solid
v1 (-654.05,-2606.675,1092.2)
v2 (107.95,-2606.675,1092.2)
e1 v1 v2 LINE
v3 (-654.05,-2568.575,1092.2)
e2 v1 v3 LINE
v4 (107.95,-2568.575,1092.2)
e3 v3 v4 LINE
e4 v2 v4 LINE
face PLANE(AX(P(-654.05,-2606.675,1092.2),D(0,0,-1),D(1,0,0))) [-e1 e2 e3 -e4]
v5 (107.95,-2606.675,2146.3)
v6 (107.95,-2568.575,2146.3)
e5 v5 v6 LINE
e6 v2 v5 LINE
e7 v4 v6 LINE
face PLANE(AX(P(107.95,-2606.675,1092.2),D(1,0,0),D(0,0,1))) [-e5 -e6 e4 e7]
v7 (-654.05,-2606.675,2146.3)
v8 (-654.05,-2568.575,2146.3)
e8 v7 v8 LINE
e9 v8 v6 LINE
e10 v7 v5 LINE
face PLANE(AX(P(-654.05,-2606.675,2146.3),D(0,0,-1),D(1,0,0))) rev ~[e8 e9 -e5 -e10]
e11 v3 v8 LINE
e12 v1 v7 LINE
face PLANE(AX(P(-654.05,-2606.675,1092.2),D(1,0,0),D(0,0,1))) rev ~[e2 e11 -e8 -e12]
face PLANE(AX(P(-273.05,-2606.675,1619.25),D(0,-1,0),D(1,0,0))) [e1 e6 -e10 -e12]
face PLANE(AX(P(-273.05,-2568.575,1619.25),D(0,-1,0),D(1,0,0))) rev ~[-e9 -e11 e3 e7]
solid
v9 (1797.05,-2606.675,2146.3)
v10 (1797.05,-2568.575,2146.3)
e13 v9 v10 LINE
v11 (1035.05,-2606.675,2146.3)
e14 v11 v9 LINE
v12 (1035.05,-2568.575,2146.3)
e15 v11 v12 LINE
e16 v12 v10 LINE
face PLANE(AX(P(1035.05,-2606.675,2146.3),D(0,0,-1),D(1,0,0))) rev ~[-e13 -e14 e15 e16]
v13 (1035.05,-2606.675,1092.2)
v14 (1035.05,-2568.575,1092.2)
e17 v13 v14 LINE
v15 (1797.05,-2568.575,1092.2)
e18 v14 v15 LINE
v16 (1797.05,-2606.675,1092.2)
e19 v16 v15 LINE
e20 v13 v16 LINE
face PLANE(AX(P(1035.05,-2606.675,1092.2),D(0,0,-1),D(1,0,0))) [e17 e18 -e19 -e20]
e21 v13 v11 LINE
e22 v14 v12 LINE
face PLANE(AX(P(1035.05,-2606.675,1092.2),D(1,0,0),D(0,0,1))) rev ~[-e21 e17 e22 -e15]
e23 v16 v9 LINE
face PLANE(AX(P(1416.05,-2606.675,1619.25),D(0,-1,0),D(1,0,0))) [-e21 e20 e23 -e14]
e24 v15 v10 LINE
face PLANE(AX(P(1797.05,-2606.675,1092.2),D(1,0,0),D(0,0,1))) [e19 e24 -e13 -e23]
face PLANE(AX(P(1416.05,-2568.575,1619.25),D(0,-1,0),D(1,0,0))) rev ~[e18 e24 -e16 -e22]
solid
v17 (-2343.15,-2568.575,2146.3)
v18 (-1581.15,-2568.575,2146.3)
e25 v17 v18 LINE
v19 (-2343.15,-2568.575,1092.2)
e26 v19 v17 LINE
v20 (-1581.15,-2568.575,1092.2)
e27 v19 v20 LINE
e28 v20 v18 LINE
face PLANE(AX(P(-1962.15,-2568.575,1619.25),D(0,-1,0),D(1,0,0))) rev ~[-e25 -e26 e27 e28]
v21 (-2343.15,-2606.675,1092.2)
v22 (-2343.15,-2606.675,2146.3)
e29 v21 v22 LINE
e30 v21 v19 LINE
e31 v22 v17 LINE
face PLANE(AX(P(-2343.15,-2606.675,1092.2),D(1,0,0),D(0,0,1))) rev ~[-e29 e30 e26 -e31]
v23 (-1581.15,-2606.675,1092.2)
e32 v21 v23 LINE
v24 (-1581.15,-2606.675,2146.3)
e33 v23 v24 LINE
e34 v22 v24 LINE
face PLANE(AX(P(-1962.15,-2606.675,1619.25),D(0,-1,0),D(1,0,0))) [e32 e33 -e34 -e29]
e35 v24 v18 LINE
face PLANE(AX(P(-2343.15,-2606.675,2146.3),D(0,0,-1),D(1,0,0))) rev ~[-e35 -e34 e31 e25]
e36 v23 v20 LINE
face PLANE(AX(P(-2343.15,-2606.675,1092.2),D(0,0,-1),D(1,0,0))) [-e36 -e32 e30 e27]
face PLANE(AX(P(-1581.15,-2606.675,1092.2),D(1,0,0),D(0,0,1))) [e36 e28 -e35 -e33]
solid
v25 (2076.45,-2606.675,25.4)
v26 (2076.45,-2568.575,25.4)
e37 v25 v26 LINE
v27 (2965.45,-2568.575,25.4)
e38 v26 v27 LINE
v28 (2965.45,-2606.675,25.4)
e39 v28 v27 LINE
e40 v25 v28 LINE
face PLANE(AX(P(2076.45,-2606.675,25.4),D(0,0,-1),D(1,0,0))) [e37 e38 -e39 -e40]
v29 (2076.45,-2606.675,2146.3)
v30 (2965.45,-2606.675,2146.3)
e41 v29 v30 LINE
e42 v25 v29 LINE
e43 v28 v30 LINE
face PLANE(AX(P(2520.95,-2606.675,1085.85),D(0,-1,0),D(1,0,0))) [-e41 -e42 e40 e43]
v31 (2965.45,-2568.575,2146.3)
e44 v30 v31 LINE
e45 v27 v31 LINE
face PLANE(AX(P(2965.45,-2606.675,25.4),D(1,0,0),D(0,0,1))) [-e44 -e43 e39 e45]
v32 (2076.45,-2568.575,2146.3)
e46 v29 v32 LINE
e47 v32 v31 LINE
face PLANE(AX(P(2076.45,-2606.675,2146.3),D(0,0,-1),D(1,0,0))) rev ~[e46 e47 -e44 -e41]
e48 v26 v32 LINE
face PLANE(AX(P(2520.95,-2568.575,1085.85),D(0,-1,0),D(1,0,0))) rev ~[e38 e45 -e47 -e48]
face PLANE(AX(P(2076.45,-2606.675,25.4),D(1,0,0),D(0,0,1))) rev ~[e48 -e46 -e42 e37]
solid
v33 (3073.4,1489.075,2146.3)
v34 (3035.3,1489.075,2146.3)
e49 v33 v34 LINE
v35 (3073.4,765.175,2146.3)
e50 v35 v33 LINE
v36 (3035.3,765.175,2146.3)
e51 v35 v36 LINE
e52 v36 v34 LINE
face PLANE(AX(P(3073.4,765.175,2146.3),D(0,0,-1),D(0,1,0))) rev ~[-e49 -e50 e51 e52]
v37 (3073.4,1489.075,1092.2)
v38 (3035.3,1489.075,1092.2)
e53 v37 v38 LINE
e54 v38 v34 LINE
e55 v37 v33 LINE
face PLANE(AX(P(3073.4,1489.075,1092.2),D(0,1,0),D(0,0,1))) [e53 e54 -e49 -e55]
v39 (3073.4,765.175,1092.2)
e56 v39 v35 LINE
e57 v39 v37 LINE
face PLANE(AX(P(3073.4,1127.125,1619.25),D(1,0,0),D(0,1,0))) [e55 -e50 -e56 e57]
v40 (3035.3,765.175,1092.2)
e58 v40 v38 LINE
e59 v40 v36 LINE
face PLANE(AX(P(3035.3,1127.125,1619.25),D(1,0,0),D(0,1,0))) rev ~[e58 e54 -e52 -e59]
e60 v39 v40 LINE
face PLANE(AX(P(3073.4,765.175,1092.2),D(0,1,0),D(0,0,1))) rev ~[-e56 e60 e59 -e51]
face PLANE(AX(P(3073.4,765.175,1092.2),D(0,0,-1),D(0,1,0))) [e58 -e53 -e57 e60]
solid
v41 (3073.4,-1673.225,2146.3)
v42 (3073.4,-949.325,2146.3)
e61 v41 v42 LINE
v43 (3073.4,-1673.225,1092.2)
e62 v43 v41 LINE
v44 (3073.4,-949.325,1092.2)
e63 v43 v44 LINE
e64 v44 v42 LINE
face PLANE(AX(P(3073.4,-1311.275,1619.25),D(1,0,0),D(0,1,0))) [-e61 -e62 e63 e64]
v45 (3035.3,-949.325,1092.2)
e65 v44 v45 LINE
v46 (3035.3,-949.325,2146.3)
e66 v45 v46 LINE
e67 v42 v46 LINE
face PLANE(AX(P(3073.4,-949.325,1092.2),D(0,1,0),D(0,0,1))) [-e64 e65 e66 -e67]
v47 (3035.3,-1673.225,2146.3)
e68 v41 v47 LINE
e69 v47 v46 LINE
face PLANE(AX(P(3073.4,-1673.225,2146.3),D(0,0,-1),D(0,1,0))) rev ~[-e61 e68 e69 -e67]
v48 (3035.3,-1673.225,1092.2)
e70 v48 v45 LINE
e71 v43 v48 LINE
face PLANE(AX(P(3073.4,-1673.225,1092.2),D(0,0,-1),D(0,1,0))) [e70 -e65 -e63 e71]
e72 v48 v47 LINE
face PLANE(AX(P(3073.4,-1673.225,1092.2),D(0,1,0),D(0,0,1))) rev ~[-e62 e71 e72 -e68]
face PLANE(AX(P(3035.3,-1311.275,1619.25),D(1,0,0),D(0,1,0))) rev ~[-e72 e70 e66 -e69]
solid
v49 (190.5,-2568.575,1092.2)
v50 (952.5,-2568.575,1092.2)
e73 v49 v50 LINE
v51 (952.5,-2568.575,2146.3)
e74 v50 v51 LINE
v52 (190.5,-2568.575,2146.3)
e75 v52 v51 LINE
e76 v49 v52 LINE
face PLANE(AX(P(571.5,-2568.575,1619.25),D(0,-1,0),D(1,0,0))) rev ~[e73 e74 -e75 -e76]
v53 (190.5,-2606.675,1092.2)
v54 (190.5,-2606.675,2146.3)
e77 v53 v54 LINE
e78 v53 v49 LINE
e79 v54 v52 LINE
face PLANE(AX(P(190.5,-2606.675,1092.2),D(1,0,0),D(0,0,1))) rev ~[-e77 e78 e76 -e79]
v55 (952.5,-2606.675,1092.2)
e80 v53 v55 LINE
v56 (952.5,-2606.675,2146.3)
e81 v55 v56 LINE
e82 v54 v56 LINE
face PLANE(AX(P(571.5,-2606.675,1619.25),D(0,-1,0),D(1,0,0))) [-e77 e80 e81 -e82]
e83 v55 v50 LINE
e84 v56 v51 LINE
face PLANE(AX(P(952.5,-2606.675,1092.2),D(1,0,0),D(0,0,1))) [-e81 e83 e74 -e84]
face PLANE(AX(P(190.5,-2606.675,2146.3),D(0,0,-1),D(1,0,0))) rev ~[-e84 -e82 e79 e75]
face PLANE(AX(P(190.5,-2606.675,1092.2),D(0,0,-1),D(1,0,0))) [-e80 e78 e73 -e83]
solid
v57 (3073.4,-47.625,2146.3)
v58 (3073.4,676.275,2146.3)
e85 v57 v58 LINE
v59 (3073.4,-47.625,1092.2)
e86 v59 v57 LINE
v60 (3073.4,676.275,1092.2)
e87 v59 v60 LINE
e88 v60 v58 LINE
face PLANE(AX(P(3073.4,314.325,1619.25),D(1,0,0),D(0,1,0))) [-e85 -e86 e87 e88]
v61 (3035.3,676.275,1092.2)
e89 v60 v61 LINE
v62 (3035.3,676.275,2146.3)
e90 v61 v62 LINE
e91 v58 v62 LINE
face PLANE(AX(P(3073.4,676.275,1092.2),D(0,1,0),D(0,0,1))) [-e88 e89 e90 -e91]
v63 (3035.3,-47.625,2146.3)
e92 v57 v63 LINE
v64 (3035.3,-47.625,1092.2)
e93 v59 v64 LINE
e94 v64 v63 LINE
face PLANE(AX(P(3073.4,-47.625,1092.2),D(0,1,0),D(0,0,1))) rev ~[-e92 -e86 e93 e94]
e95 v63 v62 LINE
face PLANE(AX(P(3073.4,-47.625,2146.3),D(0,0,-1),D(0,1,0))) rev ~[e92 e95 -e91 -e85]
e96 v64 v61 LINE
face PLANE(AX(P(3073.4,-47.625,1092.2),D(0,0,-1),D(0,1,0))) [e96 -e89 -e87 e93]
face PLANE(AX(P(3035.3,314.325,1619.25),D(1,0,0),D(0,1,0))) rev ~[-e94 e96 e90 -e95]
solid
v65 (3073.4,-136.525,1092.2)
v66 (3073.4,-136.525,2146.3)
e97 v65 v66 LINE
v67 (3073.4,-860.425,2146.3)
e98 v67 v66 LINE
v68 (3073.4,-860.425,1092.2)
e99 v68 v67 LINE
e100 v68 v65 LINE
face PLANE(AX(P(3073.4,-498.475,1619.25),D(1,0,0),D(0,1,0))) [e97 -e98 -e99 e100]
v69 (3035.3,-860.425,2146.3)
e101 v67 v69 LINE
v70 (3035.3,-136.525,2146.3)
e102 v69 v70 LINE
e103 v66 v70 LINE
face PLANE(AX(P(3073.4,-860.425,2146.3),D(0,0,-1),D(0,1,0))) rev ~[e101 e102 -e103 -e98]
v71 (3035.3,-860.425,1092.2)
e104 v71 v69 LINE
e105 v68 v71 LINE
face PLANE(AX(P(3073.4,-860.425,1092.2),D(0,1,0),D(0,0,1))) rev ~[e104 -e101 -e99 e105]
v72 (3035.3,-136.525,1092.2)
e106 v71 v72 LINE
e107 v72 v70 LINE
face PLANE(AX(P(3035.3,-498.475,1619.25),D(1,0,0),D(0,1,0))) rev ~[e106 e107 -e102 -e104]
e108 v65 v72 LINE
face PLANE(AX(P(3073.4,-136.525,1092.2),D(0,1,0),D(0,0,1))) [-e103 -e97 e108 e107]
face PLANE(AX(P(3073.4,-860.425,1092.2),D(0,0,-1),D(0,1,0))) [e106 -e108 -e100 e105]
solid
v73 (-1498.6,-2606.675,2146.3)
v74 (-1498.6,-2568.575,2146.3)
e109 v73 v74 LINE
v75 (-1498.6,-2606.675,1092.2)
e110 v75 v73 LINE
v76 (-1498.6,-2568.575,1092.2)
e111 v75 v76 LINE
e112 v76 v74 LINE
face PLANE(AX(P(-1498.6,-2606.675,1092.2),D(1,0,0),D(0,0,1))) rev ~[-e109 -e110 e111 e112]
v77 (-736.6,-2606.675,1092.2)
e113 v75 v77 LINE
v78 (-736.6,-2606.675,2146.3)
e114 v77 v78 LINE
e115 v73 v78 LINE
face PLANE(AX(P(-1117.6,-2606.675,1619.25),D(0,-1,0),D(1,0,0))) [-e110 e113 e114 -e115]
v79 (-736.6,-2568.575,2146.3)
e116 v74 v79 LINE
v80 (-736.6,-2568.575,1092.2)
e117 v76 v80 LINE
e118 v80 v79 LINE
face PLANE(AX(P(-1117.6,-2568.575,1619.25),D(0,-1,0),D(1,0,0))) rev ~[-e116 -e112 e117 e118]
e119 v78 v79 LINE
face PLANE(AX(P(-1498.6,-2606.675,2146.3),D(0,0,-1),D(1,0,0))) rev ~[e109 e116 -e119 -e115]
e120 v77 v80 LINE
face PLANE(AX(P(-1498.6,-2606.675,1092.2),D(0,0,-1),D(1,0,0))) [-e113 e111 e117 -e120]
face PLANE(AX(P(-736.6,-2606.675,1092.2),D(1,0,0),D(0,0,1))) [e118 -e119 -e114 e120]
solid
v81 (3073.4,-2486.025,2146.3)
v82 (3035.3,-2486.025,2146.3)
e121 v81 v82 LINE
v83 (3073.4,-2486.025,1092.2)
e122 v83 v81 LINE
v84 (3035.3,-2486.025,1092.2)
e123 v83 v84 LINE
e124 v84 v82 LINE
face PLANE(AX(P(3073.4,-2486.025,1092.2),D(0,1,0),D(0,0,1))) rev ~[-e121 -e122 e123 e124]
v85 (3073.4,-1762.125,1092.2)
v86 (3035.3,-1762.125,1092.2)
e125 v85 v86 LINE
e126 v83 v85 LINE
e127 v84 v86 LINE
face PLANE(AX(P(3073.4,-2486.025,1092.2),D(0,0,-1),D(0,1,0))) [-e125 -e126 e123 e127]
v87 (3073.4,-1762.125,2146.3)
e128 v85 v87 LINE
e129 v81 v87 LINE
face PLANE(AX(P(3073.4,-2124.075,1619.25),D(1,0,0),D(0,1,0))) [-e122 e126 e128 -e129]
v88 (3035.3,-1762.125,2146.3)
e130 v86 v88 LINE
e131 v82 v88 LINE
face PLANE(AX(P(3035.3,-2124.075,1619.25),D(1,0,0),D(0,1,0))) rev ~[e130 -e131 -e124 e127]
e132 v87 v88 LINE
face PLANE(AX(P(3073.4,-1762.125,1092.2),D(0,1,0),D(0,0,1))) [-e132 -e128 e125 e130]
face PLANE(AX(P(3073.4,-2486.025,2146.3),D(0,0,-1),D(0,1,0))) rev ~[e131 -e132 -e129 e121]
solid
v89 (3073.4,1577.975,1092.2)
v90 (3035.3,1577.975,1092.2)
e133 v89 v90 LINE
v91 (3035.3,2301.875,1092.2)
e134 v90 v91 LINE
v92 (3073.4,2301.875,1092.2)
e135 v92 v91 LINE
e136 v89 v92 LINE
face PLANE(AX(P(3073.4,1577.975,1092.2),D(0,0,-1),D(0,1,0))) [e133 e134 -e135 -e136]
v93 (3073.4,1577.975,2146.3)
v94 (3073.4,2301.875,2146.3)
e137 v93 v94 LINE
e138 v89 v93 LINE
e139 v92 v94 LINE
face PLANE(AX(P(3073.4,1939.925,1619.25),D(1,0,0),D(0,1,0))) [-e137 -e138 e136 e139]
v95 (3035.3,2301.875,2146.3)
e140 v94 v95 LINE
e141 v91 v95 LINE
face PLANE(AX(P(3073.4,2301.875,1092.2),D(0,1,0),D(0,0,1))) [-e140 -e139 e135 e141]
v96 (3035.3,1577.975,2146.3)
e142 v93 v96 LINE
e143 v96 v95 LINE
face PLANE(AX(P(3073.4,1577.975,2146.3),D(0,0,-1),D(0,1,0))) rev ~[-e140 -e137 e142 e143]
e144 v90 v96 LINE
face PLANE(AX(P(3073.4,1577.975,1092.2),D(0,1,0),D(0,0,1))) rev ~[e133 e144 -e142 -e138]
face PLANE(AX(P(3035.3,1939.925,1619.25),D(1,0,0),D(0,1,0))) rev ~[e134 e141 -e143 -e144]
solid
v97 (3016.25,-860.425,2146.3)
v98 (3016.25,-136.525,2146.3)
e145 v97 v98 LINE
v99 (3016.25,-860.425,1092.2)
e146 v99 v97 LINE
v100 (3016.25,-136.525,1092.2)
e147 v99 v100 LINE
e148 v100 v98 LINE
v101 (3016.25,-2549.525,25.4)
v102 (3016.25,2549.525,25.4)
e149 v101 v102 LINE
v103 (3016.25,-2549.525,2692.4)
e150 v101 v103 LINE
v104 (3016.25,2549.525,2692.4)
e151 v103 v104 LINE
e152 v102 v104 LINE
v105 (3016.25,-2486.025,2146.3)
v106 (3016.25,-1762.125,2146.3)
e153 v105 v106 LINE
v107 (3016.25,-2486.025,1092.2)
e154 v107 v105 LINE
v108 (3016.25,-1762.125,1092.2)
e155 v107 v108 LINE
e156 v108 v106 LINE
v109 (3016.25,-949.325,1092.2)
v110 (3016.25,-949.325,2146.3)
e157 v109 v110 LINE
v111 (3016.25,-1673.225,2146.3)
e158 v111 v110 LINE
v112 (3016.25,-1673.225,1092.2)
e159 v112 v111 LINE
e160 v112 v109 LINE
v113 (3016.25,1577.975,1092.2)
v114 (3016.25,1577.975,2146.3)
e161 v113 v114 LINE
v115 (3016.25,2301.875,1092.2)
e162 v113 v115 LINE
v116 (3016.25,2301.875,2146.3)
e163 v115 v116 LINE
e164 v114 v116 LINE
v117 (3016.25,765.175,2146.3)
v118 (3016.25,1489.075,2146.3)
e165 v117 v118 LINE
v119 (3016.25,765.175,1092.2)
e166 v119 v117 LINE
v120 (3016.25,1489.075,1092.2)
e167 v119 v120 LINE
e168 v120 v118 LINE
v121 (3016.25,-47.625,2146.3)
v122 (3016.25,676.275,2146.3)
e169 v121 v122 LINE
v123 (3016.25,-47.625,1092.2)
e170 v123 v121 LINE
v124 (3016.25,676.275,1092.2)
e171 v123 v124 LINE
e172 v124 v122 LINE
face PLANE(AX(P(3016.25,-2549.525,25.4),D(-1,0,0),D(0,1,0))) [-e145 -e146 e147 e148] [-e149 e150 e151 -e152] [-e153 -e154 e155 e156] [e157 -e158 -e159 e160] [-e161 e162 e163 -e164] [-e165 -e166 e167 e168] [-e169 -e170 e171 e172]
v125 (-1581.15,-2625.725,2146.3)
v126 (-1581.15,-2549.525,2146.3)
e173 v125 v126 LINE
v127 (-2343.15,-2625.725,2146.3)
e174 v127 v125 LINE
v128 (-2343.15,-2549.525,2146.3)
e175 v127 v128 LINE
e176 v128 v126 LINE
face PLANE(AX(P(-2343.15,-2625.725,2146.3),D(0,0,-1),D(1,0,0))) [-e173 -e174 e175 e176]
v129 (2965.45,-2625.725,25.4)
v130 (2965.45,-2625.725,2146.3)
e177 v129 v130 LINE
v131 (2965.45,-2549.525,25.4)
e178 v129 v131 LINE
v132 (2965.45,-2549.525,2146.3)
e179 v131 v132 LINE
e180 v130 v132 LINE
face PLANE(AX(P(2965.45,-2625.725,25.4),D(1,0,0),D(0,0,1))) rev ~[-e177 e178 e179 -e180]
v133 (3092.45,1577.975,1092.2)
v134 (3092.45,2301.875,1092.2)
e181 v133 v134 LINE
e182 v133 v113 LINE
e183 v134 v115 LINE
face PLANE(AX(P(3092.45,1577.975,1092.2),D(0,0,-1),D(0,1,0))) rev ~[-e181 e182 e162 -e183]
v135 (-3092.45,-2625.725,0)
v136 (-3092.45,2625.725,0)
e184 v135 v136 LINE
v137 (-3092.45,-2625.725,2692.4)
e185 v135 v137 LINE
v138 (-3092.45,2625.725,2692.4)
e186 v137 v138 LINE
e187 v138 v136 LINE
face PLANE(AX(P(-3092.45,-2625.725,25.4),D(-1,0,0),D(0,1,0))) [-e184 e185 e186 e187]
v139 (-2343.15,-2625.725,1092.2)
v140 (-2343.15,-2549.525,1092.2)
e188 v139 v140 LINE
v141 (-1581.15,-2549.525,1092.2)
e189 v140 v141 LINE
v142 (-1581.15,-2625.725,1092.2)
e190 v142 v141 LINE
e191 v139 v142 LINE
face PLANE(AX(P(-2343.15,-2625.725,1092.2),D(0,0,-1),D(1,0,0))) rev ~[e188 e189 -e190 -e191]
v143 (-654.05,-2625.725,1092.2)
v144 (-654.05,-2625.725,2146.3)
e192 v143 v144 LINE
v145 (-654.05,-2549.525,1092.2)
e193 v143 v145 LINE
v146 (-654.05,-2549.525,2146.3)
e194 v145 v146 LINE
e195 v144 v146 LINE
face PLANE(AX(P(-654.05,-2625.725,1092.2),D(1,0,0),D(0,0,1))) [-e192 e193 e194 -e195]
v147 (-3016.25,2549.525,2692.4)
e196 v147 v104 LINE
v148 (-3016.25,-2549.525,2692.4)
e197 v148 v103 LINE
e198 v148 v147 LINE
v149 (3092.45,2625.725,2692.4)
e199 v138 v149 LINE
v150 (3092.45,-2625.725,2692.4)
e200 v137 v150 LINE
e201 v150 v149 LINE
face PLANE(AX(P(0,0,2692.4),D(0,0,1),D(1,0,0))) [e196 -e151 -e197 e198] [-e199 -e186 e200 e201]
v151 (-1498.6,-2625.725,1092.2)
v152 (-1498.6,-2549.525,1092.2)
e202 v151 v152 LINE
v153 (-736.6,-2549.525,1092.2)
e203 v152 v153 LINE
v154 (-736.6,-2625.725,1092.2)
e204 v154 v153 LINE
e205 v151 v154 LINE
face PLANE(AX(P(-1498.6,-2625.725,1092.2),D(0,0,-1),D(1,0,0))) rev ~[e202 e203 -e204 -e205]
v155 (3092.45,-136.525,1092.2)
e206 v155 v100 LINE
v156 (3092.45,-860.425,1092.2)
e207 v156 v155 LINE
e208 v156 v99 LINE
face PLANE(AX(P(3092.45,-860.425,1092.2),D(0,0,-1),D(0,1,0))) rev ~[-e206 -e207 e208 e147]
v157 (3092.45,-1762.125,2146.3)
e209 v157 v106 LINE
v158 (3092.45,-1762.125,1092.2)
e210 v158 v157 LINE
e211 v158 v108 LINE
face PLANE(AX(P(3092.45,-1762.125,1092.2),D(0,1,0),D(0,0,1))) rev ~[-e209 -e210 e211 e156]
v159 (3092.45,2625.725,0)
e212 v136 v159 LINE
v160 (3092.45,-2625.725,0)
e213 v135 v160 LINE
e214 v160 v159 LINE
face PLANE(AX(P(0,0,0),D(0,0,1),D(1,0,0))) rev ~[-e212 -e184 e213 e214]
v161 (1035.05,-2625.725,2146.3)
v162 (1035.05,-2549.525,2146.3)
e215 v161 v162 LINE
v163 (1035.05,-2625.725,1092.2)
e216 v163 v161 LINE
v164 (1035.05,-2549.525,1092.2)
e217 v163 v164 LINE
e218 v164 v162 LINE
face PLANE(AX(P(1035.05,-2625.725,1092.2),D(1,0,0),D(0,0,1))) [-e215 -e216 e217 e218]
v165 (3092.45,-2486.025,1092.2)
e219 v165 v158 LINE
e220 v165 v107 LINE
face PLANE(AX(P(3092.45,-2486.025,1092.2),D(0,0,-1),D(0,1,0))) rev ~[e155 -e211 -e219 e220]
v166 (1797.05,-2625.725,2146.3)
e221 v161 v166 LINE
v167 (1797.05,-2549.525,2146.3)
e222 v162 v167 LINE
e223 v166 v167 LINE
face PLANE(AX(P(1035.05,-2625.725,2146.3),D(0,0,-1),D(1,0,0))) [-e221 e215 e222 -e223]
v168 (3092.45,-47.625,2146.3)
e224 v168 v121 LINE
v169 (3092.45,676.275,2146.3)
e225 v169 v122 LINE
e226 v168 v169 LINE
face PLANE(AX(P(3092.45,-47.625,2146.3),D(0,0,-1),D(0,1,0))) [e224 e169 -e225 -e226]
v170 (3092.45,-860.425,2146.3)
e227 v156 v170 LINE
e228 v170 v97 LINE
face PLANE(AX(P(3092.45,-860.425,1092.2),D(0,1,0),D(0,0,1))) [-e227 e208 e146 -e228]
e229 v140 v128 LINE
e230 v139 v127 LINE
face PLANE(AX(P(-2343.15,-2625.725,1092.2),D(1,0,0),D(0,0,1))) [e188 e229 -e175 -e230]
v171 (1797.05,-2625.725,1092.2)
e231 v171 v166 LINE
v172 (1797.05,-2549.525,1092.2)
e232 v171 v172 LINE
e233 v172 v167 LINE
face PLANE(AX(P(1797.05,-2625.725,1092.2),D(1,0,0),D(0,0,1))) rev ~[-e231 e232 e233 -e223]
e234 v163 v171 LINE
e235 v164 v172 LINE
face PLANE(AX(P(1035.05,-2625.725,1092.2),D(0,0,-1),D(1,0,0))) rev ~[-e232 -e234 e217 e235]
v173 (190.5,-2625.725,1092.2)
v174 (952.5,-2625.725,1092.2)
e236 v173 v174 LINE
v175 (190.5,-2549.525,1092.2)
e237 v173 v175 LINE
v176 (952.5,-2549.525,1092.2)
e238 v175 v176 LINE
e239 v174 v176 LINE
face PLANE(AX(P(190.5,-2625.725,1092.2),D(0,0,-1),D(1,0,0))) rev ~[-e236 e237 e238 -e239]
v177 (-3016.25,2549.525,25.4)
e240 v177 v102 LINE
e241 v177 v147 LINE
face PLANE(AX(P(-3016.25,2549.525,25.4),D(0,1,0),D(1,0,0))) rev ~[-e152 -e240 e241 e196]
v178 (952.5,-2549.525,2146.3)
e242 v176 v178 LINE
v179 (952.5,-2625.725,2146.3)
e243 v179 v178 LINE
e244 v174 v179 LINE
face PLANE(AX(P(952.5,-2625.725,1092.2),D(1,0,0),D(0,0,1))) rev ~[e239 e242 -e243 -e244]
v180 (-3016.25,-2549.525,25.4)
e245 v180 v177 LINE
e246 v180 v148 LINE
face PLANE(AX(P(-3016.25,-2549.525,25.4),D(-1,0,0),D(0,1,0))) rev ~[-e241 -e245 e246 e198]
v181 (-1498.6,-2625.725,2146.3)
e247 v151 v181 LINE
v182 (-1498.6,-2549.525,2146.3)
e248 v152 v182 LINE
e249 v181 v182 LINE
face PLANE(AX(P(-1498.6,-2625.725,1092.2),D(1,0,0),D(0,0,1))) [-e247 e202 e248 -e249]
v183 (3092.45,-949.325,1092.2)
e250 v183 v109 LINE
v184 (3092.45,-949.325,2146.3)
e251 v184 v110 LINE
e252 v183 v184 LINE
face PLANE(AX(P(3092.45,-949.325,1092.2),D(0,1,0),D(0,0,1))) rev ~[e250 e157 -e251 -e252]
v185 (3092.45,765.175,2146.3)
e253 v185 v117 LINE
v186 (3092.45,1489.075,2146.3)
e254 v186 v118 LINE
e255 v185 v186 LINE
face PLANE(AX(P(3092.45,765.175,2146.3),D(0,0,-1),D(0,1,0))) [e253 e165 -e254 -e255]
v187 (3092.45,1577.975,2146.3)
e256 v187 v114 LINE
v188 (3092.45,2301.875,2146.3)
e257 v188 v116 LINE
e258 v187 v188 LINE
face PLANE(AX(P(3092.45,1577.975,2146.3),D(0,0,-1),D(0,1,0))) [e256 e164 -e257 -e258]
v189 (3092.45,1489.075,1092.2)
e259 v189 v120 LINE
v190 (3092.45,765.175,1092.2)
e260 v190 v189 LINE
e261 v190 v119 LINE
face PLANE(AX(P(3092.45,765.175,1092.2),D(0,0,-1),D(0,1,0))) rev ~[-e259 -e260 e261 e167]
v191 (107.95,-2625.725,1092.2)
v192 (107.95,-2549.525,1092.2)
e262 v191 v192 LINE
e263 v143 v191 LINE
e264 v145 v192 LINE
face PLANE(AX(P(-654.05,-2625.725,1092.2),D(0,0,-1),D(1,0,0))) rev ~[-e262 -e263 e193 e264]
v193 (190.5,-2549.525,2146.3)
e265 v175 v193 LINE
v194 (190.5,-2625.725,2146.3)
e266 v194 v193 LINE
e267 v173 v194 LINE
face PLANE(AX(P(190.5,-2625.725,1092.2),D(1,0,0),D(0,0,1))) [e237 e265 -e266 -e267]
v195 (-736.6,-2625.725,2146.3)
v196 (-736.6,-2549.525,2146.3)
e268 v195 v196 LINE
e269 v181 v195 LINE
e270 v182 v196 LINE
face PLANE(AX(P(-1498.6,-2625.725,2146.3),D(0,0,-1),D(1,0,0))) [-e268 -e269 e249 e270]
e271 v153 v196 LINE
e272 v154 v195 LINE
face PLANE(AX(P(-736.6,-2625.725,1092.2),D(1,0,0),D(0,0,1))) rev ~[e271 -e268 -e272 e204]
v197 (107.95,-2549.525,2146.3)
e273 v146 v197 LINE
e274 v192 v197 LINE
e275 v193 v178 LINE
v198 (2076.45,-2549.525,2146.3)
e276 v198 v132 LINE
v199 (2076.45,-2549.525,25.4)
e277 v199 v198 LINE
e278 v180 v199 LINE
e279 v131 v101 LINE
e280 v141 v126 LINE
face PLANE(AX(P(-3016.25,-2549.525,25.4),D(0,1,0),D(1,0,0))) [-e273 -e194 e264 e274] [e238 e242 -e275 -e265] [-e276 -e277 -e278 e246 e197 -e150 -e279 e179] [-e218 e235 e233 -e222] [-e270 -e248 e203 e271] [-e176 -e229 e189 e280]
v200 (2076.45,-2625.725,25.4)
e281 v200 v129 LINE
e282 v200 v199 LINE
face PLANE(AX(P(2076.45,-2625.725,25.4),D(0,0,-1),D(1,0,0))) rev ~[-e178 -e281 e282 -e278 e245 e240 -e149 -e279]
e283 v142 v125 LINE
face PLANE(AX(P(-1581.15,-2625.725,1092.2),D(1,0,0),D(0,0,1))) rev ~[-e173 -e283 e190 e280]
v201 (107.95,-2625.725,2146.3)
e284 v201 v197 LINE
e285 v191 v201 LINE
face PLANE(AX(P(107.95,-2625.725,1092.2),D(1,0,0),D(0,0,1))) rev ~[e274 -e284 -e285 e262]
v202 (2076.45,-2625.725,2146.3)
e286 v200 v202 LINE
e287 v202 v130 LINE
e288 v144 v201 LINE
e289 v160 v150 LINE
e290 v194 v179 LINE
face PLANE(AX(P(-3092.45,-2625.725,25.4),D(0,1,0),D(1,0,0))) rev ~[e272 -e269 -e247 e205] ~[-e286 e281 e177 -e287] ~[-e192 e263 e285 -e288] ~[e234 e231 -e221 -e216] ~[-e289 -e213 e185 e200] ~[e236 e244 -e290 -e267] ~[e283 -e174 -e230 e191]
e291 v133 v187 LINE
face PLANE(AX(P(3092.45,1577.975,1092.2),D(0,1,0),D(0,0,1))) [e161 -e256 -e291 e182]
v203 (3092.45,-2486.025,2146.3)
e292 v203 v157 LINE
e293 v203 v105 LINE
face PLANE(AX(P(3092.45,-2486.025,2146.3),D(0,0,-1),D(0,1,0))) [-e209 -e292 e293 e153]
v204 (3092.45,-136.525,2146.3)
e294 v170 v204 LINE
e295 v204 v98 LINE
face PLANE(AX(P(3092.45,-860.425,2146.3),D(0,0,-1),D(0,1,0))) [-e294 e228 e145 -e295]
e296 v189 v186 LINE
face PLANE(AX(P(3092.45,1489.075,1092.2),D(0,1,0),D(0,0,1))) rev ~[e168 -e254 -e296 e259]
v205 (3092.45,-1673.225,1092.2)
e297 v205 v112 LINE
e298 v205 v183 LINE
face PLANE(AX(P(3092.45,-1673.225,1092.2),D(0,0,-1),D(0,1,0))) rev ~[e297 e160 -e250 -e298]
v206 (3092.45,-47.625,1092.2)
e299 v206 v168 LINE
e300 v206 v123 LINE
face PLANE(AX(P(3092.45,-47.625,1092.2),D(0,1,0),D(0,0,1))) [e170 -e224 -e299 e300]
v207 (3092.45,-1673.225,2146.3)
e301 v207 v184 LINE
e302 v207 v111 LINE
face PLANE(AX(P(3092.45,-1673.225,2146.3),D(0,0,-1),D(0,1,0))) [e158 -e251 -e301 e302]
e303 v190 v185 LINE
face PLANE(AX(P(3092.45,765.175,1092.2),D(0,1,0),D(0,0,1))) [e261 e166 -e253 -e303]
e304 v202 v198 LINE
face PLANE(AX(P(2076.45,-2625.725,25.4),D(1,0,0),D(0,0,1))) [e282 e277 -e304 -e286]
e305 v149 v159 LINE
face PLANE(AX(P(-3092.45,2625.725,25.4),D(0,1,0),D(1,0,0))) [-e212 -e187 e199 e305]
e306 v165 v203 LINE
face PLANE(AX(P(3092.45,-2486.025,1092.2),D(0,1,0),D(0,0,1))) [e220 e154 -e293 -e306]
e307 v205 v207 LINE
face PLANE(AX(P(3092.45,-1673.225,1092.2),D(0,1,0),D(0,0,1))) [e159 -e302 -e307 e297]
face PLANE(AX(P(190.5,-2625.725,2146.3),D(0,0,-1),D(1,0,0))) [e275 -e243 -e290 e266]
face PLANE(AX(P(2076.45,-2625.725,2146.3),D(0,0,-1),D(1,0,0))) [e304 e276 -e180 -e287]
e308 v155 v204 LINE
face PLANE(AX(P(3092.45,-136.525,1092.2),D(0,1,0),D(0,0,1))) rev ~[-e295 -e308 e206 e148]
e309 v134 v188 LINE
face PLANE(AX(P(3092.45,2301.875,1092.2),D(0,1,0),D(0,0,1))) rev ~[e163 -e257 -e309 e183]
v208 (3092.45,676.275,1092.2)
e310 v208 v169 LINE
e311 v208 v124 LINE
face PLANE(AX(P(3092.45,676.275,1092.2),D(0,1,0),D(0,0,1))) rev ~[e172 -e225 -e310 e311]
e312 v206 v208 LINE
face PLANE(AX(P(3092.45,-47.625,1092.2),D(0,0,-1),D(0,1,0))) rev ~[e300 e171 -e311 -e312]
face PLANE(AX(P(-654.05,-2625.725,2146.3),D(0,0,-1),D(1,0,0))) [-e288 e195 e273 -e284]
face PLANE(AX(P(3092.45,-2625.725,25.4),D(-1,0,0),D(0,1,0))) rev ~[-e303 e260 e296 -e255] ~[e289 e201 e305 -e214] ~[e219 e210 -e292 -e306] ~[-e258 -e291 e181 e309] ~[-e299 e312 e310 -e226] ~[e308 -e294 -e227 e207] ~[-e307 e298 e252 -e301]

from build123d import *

# Parameters (mm, degrees)
F0_W      = 6184.9
F0_H      = 5251.45
F1_DEPTH  = 25.4
F2_W      = 6184.9
F2_H      = 5251.45
F2_W_2    = 6032.5
F2_H_2    = 5099.05
F3_DEPTH  = 2667
F4_W      = 889
F4_H      = 2120.9
F5_DEPTH  = 76.2
F6_W      = 723.9
F6_H      = 1054.1
F7_DEPTH  = 76.2
F8_W      = 762
F8_H      = 1054.1
F9_DEPTH  = 76.2
F10_START = -19.05
F10_DEPTH = 38.1
F11_START = -19.05
F11_DEPTH = 38.1
F12_START = -19.05
F12_DEPTH = 38.1


with BuildPart() as f1:
    # F0 (on Top) → F1 (new body)
    with BuildSketch(Plane.XY):
        Rectangle(F0_W, F0_H)
    extrude(amount=F1_DEPTH)

    # F2 (on face) → F3 (join)
    with BuildSketch(Plane.XY.offset(25.4)):
        Rectangle(F2_W, F2_H)
        Rectangle(F2_W_2, F2_H_2, mode=Mode.SUBTRACT)
    extrude(amount=F3_DEPTH)

    # F4 (on face) → F5 (cut)
    with BuildSketch(Plane.XZ.offset(2625.725)):
        with Locations((2520.95, 1085.85)):
            Rectangle(F4_W, F4_H)
    extrude(amount=-F5_DEPTH, mode=Mode.SUBTRACT)

    # F6 (on face) → F7 (cut)
    with BuildSketch(Plane.YZ.offset(3092.45)):
        with Locations((-2124.075, 1619.25)):
            Rectangle(F6_W, F6_H)
        with Locations((-1311.275, 1619.25)):
            Rectangle(F6_W, F6_H)
        with Locations((-498.475, 1619.25)):
            Rectangle(F6_W, F6_H)
        with Locations((314.325, 1619.25)):
            Rectangle(F6_W, F6_H)
        with Locations((1127.125, 1619.25)):
            Rectangle(F6_W, F6_H)
        with Locations((1939.925, 1619.25)):
            Rectangle(F6_W, F6_H)
    extrude(amount=-F7_DEPTH, mode=Mode.SUBTRACT)

    # F8 (on face) → F9 (cut)
    with BuildSketch(Plane.XZ.offset(2625.725)):
        with Locations((-1962.15, 1619.25)):
            Rectangle(F8_W, F8_H)
        with Locations((-1117.6, 1619.25)):
            Rectangle(F8_W, F8_H)
        with Locations((-273.05, 1619.25)):
            Rectangle(F8_W, F8_H)
        with Locations((571.5, 1619.25)):
            Rectangle(F8_W, F8_H)
        with Locations((1416.05, 1619.25)):
            Rectangle(F8_W, F8_H)
    extrude(amount=-F9_DEPTH, mode=Mode.SUBTRACT)


with BuildPart() as f10:
    # F4 (on face) → F10 (new body)
    with BuildSketch(Plane.XZ.offset(2625.725).offset(F10_START)):
        with Locations((2520.95, 1085.85)):
            Rectangle(F4_W, F4_H)
    extrude(amount=-F10_DEPTH)


with BuildPart() as f11:
    # F6 (on face) → F11 (new body)
    with BuildSketch(Plane.YZ.offset(3092.45).offset(F11_START)):
        with Locations((-2124.075, 1619.25)):
            Rectangle(F6_W, F6_H)
    extrude(amount=-F11_DEPTH)


with BuildPart() as f11b:
    # F6 (on face) → F11, piece 2 (new body)
    with BuildSketch(Plane.YZ.offset(3092.45).offset(F11_START)):
        with Locations((-1311.275, 1619.25)):
            Rectangle(F6_W, F6_H)
    extrude(amount=-F11_DEPTH)


with BuildPart() as f11c:
    # F6 (on face) → F11, piece 3 (new body)
    with BuildSketch(Plane.YZ.offset(3092.45).offset(F11_START)):
        with Locations((-498.475, 1619.25)):
            Rectangle(F6_W, F6_H)
    extrude(amount=-F11_DEPTH)


with BuildPart() as f11d:
    # F6 (on face) → F11, piece 4 (new body)
    with BuildSketch(Plane.YZ.offset(3092.45).offset(F11_START)):
        with Locations((314.325, 1619.25)):
            Rectangle(F6_W, F6_H)
    extrude(amount=-F11_DEPTH)


with BuildPart() as f11e:
    # F6 (on face) → F11, piece 5 (new body)
    with BuildSketch(Plane.YZ.offset(3092.45).offset(F11_START)):
        with Locations((1127.125, 1619.25)):
            Rectangle(F6_W, F6_H)
    extrude(amount=-F11_DEPTH)


with BuildPart() as f11f:
    # F6 (on face) → F11, piece 6 (new body)
    with BuildSketch(Plane.YZ.offset(3092.45).offset(F11_START)):
        with Locations((1939.925, 1619.25)):
            Rectangle(F6_W, F6_H)
    extrude(amount=-F11_DEPTH)


with BuildPart() as f12:
    # F8 (on face) → F12 (new body)
    with BuildSketch(Plane.XZ.offset(2625.725).offset(F12_START)):
        with Locations((-1962.15, 1619.25)):
            Rectangle(F8_W, F8_H)
    extrude(amount=-F12_DEPTH)


with BuildPart() as f12b:
    # F8 (on face) → F12, piece 2 (new body)
    with BuildSketch(Plane.XZ.offset(2625.725).offset(F12_START)):
        with Locations((-1117.6, 1619.25)):
            Rectangle(F8_W, F8_H)
    extrude(amount=-F12_DEPTH)


with BuildPart() as f12c:
    # F8 (on face) → F12, piece 3 (new body)
    with BuildSketch(Plane.XZ.offset(2625.725).offset(F12_START)):
        with Locations((-273.05, 1619.25)):
            Rectangle(F8_W, F8_H)
    extrude(amount=-F12_DEPTH)


with BuildPart() as f12d:
    # F8 (on face) → F12, piece 4 (new body)
    with BuildSketch(Plane.XZ.offset(2625.725).offset(F12_START)):
        with Locations((571.5, 1619.25)):
            Rectangle(F8_W, F8_H)
    extrude(amount=-F12_DEPTH)


with BuildPart() as f12e:
    # F8 (on face) → F12, piece 5 (new body)
    with BuildSketch(Plane.XZ.offset(2625.725).offset(F12_START)):
        with Locations((1416.05, 1619.25)):
            Rectangle(F8_W, F8_H)
    extrude(amount=-F12_DEPTH)


solid = Compound([f1.part, f10.part, f11.part, f11b.part, f11c.part, f11d.part, f11e.part, f11f.part, f12.part, f12b.part, f12c.part, f12d.part, f12e.part])
